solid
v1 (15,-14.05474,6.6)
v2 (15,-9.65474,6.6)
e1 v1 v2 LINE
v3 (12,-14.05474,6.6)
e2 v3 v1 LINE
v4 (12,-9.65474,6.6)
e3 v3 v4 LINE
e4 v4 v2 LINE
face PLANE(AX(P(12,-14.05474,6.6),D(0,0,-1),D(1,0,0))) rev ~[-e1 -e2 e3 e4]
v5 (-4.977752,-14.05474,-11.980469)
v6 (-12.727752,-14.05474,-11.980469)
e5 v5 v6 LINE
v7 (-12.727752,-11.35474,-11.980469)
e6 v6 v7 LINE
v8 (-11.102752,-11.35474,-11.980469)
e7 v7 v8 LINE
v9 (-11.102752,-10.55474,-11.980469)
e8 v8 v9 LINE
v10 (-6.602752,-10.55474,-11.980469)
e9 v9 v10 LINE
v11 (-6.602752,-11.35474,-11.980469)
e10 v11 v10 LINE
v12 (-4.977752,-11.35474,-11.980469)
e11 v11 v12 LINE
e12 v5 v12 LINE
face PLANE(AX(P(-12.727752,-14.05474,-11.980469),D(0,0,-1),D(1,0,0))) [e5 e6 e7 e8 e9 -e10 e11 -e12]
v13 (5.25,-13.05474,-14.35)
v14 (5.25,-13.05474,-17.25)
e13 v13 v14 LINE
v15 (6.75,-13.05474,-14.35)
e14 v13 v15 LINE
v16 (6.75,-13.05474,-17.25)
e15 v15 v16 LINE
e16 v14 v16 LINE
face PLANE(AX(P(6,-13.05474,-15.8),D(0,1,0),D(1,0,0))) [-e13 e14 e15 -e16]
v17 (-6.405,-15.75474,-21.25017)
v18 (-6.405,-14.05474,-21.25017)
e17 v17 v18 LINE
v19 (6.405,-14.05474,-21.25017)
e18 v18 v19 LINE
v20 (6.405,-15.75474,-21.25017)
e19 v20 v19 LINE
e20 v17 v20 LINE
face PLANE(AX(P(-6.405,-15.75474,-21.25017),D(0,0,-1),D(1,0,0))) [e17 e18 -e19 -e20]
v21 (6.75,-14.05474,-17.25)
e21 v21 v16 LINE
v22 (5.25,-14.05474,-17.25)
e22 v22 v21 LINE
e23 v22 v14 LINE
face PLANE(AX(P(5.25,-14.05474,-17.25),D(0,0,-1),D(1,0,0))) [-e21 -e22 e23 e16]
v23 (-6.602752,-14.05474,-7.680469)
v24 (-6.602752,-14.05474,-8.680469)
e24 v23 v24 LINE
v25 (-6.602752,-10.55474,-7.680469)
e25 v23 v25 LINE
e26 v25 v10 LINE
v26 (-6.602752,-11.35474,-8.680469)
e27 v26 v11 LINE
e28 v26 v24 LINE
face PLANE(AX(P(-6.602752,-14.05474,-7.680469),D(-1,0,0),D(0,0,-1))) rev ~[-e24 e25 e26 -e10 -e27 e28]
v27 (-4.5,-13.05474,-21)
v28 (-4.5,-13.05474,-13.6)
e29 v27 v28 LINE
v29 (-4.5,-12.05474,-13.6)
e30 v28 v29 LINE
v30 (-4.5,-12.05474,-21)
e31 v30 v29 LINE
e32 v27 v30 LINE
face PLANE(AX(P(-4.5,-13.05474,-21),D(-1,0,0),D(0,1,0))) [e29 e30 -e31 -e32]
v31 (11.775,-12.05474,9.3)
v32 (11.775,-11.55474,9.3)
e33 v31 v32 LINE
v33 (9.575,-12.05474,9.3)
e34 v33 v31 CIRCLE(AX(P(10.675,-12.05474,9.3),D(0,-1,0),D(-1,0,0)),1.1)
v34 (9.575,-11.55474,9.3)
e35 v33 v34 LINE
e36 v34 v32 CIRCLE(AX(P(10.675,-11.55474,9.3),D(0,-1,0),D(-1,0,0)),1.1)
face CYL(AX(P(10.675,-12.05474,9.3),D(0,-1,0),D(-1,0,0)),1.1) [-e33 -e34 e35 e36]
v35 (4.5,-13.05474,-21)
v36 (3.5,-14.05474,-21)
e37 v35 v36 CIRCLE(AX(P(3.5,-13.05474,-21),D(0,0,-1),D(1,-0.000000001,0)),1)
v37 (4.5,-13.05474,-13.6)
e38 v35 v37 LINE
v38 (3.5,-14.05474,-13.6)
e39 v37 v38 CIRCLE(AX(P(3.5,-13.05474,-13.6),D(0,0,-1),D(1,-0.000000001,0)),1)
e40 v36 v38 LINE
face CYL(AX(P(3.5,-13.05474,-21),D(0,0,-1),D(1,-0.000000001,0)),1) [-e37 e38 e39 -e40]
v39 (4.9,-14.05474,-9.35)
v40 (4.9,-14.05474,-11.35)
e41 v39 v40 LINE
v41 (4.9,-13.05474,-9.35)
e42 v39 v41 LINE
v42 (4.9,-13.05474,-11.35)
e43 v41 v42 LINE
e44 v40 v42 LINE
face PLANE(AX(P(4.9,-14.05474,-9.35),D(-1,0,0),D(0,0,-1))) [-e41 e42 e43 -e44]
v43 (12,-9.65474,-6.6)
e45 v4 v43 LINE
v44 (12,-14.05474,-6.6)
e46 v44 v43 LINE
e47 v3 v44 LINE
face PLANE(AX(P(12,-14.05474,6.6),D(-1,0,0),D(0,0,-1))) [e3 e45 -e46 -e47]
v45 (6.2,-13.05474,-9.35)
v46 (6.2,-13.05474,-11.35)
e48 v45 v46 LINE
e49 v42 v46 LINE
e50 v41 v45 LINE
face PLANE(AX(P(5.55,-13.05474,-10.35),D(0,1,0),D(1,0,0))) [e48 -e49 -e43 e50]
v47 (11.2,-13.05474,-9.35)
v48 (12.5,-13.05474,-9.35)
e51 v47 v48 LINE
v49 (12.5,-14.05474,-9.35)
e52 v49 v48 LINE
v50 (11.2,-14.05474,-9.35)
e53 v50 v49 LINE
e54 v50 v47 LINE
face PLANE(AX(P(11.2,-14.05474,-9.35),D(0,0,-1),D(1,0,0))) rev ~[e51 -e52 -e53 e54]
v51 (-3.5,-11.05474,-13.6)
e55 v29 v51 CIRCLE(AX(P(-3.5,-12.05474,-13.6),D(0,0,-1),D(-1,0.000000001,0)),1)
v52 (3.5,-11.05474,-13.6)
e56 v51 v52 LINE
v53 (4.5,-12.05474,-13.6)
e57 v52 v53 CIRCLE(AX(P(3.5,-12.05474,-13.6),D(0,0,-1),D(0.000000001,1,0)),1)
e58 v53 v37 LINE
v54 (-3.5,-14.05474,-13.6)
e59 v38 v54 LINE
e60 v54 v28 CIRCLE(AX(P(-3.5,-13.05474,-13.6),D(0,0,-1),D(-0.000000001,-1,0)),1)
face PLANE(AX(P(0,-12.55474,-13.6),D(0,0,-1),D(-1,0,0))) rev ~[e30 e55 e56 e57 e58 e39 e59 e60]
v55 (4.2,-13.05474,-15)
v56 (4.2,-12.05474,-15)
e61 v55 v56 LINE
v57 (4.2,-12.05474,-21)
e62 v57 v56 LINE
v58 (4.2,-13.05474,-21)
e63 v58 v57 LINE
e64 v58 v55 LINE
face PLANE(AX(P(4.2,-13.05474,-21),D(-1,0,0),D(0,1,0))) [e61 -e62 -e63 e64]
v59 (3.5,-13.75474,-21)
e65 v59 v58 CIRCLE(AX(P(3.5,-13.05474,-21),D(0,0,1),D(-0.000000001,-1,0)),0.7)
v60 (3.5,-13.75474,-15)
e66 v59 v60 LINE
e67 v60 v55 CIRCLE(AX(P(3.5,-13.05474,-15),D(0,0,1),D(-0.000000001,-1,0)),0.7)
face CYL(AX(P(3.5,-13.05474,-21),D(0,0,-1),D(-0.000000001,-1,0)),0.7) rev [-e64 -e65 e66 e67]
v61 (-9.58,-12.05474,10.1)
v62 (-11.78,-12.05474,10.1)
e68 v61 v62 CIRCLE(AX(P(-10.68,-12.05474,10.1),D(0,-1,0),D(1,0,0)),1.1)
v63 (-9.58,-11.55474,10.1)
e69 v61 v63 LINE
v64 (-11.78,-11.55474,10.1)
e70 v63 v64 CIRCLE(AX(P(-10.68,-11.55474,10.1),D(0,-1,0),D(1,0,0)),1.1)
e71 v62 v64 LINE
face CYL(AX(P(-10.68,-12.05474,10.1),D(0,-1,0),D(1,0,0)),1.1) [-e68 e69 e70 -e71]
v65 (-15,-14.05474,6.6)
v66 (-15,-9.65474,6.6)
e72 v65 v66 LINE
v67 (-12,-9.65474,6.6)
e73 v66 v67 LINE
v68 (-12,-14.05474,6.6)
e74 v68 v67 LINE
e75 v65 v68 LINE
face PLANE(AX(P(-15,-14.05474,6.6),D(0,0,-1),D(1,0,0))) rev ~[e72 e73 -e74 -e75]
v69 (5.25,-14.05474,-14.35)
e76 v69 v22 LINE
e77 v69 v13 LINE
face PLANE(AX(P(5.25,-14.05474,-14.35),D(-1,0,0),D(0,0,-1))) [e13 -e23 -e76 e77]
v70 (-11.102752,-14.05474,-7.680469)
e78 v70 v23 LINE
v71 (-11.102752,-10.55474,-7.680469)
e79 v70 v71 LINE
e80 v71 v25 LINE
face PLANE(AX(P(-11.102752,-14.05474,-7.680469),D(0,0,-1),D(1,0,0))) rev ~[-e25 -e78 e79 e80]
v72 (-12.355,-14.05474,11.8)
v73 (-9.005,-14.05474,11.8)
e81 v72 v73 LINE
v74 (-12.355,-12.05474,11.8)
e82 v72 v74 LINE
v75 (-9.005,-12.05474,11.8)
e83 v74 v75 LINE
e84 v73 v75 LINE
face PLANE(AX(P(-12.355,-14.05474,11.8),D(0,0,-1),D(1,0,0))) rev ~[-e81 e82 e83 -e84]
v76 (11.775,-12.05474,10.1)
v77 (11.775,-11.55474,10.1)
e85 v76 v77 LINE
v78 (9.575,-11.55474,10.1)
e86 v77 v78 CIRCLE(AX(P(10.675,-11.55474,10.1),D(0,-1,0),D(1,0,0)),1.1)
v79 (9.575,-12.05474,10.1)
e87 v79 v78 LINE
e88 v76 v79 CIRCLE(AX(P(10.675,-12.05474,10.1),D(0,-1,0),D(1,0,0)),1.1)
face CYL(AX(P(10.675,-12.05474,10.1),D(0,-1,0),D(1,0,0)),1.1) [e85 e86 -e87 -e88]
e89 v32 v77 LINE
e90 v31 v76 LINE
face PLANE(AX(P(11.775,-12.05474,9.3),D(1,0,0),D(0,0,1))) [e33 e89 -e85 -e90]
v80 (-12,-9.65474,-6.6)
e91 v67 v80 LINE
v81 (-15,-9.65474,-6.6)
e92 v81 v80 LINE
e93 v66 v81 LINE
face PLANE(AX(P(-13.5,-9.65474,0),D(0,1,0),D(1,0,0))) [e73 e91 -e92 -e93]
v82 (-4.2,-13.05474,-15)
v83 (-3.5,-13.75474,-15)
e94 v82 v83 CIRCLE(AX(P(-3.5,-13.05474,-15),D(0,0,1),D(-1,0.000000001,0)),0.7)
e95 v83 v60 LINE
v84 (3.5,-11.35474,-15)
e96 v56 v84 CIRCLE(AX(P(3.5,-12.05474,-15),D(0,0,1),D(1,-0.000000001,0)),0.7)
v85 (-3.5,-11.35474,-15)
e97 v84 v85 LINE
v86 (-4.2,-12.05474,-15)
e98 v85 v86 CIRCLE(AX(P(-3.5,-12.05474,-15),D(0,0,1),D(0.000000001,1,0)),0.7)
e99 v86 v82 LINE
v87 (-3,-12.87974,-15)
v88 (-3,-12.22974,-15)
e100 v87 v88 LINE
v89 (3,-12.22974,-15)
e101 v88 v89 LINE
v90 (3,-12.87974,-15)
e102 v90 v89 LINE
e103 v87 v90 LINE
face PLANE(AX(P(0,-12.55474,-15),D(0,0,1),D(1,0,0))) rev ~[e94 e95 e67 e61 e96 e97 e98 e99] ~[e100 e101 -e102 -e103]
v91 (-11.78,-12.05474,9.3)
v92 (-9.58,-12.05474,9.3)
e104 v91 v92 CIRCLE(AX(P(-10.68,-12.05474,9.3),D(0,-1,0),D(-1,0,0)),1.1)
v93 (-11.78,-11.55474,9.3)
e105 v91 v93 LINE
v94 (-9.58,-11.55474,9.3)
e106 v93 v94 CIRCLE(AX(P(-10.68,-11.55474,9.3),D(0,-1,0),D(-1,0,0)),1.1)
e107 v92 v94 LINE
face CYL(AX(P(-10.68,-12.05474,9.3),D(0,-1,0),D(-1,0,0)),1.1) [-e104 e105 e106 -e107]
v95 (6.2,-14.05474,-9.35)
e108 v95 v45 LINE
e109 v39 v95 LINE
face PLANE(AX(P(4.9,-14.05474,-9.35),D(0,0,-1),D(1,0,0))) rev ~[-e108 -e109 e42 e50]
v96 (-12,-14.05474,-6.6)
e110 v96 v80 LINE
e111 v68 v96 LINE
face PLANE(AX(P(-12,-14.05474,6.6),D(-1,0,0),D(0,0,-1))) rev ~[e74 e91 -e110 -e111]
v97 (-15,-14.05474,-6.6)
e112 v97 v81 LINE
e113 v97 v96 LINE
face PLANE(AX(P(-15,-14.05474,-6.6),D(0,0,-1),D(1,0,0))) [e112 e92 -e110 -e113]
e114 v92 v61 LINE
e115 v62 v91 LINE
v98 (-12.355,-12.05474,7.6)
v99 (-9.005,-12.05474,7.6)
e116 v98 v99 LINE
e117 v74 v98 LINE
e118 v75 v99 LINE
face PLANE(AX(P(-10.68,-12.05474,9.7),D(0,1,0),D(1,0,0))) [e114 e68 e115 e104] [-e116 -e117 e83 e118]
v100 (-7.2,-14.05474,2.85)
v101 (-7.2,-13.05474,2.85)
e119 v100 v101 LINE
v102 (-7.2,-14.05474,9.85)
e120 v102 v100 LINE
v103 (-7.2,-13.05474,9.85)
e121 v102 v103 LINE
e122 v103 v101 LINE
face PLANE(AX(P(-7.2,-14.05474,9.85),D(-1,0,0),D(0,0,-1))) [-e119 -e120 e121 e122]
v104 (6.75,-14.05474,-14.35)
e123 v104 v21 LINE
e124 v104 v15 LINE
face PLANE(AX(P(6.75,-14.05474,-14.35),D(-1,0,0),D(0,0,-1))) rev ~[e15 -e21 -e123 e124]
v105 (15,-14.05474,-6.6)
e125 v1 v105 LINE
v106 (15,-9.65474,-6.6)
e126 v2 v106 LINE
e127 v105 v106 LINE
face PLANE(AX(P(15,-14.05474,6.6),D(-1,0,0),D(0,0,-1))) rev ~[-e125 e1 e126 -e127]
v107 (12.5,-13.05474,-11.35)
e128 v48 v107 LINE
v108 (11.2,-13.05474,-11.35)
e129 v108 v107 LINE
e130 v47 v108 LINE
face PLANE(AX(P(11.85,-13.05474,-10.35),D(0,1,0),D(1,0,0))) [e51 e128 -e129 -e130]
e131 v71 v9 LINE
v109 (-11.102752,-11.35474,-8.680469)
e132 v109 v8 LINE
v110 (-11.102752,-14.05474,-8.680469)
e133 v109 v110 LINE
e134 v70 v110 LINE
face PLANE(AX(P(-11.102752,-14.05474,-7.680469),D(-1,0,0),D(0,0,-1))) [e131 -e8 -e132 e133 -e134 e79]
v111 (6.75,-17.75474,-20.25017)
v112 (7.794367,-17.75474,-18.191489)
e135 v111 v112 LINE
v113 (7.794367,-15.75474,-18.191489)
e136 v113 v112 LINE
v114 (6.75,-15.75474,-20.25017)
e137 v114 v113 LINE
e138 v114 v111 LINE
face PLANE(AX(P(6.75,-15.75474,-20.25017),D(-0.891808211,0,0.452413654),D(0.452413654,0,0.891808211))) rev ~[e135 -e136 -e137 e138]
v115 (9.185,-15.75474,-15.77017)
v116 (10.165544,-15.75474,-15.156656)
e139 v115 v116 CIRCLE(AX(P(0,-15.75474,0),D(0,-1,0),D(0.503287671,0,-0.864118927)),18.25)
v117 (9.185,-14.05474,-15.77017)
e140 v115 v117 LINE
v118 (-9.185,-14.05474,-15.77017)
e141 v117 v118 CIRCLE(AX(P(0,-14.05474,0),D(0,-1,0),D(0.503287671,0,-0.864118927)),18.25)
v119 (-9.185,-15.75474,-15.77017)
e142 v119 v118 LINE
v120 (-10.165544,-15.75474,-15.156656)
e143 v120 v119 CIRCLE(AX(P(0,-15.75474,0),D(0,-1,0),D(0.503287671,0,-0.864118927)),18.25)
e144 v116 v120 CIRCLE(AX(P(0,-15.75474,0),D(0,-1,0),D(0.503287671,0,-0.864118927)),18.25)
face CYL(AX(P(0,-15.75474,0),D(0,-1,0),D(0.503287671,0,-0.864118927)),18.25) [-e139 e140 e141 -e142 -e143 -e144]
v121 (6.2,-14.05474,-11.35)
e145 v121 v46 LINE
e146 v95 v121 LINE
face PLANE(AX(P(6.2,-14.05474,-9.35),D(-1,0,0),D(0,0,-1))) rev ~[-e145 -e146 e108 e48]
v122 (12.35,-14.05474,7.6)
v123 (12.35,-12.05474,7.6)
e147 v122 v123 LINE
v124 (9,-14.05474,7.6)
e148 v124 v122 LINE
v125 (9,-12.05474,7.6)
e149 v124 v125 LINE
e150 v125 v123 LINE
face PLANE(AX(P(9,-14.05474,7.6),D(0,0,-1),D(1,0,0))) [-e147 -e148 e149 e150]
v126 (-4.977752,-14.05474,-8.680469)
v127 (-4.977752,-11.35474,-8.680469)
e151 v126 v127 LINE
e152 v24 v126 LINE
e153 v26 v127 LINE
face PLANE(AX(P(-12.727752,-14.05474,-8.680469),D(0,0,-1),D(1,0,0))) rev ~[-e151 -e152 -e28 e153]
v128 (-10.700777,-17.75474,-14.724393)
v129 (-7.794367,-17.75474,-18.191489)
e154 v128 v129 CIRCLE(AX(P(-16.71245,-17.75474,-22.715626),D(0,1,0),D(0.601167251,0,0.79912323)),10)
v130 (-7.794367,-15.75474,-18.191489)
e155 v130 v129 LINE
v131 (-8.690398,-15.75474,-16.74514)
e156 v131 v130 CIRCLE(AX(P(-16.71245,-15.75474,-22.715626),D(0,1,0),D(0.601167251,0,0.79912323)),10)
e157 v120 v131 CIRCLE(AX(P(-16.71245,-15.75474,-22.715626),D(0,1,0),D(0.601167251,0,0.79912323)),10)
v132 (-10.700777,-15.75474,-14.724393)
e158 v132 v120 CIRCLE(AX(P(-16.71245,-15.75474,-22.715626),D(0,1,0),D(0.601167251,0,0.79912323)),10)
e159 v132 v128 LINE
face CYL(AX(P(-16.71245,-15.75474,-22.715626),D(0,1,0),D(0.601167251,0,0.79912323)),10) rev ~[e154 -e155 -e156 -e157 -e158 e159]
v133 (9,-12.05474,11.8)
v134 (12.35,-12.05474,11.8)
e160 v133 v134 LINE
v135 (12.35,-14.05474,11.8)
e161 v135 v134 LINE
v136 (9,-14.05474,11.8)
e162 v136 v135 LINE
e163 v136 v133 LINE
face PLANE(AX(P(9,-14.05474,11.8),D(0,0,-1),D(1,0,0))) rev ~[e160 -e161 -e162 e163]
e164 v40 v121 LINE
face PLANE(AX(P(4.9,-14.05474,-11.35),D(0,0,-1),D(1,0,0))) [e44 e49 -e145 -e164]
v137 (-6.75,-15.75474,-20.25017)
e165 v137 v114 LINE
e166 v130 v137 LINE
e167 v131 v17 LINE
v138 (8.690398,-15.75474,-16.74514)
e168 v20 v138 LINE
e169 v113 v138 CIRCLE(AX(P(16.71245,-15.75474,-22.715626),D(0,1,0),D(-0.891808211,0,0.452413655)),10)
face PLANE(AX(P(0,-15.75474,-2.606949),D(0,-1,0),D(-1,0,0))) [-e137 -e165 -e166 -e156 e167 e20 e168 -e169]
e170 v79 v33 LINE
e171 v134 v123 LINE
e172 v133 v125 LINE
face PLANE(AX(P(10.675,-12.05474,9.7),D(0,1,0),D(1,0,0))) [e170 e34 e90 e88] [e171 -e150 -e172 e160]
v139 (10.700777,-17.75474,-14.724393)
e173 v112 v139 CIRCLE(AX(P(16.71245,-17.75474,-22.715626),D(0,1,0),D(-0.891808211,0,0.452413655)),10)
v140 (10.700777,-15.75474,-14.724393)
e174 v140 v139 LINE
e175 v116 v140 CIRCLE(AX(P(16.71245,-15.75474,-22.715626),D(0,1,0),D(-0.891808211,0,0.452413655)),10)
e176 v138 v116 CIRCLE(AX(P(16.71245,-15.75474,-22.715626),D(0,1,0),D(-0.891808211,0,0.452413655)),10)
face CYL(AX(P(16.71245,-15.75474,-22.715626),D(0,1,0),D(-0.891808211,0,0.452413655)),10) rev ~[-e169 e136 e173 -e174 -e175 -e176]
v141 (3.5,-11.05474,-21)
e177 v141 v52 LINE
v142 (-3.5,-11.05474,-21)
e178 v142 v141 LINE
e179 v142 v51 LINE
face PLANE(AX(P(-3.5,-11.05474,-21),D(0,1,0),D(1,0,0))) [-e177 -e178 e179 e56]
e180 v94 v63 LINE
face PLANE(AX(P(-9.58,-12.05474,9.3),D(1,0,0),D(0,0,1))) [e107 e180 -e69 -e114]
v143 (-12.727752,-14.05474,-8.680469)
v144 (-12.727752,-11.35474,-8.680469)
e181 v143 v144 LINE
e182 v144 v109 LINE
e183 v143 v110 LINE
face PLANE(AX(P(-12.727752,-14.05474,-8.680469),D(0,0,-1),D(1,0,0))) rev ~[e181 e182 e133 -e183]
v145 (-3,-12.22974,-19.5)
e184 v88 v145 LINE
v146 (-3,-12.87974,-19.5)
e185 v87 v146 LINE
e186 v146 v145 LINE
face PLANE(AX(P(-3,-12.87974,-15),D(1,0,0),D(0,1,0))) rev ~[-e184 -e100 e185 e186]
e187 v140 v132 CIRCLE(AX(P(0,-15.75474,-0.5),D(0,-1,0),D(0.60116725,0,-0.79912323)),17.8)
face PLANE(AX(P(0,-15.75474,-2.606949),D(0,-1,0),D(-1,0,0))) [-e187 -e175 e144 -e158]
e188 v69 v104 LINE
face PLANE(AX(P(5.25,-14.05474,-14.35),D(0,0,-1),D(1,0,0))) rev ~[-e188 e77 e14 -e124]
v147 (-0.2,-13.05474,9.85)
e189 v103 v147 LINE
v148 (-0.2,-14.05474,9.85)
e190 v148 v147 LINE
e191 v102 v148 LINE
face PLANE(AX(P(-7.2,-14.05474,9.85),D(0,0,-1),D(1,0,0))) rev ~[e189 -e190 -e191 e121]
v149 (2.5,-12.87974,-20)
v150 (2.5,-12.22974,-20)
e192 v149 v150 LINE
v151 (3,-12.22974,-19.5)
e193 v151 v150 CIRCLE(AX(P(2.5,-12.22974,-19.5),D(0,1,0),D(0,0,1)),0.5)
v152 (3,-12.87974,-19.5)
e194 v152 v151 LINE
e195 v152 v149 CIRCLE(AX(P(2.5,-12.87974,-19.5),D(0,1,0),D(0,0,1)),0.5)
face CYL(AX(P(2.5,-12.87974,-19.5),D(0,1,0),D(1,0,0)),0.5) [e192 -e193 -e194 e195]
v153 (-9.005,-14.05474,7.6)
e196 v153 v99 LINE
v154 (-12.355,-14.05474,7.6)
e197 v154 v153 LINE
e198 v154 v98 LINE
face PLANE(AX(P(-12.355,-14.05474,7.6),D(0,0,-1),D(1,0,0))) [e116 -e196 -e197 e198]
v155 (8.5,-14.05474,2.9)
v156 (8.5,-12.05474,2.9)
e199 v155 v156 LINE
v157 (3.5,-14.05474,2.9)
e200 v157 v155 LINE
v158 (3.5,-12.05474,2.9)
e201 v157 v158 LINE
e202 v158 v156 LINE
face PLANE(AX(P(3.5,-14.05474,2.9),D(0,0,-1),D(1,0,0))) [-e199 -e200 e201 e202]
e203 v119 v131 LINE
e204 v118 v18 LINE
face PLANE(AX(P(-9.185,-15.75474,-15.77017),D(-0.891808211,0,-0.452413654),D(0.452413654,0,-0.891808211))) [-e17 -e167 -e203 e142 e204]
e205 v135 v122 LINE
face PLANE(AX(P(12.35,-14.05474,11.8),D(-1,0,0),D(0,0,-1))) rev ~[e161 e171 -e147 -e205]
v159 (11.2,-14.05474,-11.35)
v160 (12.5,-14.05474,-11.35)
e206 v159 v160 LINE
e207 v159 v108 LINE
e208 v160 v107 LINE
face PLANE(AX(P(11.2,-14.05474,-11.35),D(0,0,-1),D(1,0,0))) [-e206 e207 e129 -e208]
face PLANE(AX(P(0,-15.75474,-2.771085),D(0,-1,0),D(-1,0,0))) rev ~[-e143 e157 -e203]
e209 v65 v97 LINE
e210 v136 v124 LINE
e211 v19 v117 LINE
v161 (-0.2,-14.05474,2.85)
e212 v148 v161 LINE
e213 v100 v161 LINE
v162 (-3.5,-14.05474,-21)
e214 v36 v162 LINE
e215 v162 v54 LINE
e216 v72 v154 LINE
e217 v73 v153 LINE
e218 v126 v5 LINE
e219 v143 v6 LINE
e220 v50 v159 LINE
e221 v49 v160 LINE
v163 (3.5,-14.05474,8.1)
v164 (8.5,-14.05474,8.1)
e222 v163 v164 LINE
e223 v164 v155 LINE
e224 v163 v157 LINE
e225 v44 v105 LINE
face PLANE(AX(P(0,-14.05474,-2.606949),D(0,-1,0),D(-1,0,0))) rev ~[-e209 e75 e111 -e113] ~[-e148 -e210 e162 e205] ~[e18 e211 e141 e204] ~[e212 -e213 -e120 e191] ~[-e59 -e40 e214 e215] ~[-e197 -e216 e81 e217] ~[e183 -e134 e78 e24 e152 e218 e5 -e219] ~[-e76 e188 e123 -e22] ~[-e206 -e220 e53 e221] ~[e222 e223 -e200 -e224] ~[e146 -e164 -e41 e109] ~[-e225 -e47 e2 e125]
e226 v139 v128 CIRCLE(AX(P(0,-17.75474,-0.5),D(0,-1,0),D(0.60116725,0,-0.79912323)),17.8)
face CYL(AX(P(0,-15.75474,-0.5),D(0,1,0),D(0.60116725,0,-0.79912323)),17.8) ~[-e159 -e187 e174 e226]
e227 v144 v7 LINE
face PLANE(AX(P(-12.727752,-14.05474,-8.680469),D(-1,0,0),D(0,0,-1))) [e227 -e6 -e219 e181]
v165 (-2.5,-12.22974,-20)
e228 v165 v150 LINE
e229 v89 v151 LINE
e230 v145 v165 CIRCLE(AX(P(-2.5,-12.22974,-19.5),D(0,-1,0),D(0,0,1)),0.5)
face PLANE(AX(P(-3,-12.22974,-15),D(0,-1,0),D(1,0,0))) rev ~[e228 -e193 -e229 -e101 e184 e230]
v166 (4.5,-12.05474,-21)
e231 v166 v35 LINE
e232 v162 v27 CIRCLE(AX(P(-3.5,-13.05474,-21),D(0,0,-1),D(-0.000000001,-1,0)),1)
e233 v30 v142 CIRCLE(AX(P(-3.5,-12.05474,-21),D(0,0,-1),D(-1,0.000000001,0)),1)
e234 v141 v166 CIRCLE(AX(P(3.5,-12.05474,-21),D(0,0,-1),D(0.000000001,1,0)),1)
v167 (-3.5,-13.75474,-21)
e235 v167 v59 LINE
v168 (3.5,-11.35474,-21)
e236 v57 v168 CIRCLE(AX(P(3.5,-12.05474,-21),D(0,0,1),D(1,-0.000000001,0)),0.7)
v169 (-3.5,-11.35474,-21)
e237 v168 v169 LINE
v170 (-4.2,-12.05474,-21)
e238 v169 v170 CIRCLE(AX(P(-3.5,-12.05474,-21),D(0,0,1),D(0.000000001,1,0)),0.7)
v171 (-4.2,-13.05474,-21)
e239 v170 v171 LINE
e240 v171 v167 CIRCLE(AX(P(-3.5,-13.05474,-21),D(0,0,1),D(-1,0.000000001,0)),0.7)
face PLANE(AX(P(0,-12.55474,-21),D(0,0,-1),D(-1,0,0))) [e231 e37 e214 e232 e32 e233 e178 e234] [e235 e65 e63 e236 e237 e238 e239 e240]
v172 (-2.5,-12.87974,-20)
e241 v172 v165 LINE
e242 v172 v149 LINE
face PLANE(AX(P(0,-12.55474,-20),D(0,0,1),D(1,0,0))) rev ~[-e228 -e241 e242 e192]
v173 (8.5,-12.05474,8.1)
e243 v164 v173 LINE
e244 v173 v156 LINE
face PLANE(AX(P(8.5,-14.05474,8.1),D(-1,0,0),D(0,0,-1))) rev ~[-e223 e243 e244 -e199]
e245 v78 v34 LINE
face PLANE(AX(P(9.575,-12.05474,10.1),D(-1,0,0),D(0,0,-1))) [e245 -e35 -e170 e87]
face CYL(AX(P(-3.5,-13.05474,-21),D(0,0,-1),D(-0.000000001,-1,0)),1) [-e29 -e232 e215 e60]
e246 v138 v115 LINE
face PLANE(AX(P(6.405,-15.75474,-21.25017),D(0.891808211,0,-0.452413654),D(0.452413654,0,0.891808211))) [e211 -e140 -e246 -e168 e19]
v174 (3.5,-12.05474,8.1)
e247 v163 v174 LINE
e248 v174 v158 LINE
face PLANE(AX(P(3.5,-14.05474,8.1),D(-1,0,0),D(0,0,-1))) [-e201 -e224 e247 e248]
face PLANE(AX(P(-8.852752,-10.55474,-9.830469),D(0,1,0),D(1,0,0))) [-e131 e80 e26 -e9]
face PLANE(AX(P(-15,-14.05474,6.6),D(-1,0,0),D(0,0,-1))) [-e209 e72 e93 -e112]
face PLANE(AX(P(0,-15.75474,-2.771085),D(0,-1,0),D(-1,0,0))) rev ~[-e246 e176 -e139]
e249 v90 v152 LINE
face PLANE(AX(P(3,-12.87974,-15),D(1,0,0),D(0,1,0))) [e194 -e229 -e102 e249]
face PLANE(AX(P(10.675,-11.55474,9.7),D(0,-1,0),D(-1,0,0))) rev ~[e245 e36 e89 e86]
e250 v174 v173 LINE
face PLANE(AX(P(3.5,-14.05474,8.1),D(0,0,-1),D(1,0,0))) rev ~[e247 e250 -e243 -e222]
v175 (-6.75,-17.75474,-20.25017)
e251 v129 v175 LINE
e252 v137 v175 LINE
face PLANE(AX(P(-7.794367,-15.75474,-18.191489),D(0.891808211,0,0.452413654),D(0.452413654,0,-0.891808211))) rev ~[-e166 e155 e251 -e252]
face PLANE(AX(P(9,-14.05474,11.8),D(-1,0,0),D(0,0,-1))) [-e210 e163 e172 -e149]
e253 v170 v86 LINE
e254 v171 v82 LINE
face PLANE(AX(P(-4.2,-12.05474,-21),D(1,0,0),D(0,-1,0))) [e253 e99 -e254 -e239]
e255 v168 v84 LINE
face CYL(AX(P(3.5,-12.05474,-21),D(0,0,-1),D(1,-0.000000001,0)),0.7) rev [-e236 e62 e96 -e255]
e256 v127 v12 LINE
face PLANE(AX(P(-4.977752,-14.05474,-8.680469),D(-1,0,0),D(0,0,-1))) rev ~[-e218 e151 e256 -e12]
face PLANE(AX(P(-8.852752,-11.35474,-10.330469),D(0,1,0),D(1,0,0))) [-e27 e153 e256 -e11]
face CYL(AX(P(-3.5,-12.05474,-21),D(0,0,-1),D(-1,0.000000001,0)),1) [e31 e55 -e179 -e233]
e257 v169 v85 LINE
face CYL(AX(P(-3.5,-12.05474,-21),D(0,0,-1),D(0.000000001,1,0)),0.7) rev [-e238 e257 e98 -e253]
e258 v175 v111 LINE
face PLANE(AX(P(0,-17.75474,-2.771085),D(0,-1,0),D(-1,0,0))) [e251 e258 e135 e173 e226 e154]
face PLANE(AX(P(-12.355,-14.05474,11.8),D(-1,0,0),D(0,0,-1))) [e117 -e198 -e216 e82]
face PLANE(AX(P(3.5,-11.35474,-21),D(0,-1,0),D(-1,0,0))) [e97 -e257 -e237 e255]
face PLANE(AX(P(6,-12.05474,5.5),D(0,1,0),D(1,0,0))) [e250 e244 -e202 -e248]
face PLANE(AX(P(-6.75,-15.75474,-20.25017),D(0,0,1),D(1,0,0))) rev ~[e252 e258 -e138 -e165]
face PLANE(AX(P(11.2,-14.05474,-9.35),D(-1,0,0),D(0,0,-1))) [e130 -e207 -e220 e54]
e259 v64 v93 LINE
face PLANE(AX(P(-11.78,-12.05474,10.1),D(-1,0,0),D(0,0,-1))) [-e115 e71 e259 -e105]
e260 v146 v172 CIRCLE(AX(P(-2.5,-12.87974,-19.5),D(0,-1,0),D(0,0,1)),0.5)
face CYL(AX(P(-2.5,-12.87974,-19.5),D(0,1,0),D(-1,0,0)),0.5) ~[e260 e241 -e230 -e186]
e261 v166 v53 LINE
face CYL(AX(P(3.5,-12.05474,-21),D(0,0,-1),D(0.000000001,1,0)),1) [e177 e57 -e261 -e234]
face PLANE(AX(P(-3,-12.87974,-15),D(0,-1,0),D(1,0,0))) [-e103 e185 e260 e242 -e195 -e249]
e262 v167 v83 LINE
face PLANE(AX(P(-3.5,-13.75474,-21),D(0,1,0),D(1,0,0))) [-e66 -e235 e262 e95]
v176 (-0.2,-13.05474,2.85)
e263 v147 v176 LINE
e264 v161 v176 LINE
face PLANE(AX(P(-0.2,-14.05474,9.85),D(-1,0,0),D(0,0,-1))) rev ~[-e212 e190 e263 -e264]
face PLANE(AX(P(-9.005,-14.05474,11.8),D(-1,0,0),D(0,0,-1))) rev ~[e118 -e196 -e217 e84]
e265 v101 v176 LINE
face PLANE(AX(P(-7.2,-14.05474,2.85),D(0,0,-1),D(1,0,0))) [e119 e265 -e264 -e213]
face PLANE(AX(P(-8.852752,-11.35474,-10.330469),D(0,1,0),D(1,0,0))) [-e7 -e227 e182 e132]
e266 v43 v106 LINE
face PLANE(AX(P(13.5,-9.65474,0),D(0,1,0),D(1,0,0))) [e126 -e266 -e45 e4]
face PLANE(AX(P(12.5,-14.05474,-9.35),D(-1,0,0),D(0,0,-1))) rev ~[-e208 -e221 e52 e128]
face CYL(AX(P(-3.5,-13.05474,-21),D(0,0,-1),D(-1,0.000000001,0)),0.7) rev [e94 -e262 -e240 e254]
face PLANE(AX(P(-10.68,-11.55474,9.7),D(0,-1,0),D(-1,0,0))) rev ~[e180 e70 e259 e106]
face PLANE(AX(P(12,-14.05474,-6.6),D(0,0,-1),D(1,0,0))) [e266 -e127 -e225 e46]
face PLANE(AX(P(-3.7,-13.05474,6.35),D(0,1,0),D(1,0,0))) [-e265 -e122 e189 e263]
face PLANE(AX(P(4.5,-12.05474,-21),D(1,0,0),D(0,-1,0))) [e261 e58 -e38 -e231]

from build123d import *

# Parameters (mm, degrees)
BOSS_EXTRUDE1_DEPTH  = 1.7
BOSS_EXTRUDE2_DEPTH  = 2
BOSS_EXTRUDE3_START  = 1.7
SKETCH3_W            = 3
SKETCH3_H            = 13.2
BOSS_EXTRUDE3_DEPTH  = 4.4
BOSS_EXTRUDE4_START  = -21
BOSS_EXTRUDE4_DEPTH  = 7.4
CUT_EXTRUDE1_START   = -21
CUT_EXTRUDE1_DEPTH   = 6
BOSS_EXTRUDE5_START  = -15
SKETCH8_W            = 6
SKETCH8_H            = 0.65
BOSS_EXTRUDE5_DEPTH  = 5
FILLET1_R            = 0.5
BOSS_EXTRUDE6_START  = 1.7
SKETCH9_W            = 5
SKETCH9_H            = 5.2
BOSS_EXTRUDE6_DEPTH  = 2
BOSS_EXTRUDE7_START  = 1.7
SKETCH10_W           = 3.35
SKETCH10_H           = 4.2
BOSS_EXTRUDE7_DEPTH  = 2
BOSS_EXTRUDE8_START  = 3.7
BOSS_EXTRUDE8_DEPTH  = 0.5
BOSS_EXTRUDE9_START  = 1.7
SKETCH12_W           = 4.5
SKETCH12_H           = 4.3
BOSS_EXTRUDE9_DEPTH  = 3.5
BOSS_EXTRUDE10_START = 1.7
SKETCH13_W           = 7.75
SKETCH13_H           = 3.3
BOSS_EXTRUDE10_DEPTH = 2.7
BOSS_EXTRUDE11_START = 1.7
SKETCH14_W           = 7
SKETCH14_H           = 7
BOSS_EXTRUDE11_DEPTH = 1
BOSS_EXTRUDE12_START = 1.7
SKETCH15_W           = 1.3
SKETCH15_H           = 2
BOSS_EXTRUDE12_DEPTH = 1
BOSS_EXTRUDE13_START = 1.7
SKETCH16_W           = 1.5
SKETCH16_H           = 2.9
BOSS_EXTRUDE13_DEPTH = 1


with BuildPart() as part:
    # Sketch1 → Boss-Extrude1 (new body)
    with BuildSketch(Plane(origin=(0, 0, 0), x_dir=(1, 0, 0), z_dir=(0, 1, 0))):
        with BuildLine():
            Line((-6.405, 21.250170418), (6.405, 21.250170418))
            Line((6.405, 21.250170418), (9.185, 15.770170418))
            ThreePointArc((9.185, 15.770170418), (0, -18.25), (-9.185, 15.770170418))
            Line((-9.185, 15.770170418), (-6.405, 21.250170418))
        make_face()
    extrude(amount=BOSS_EXTRUDE1_DEPTH)

    # Sketch2 → Boss-Extrude2 (add)
    with BuildSketch(Plane(origin=(0, 0, 0), x_dir=(1, 0, 0), z_dir=(0, 1, 0))):
        with BuildLine():
            Line((-6.75, 20.250170418), (6.75, 20.250170418))
            Line((6.75, 20.250170418), (7.794367451, 18.191489254))
            ThreePointArc((7.794367451, 18.191489254), (9.048926778, 16.291420125), (10.700777057, 14.724393497))
            ThreePointArc((10.700777057, 14.724393497), (0, -17.3), (-10.700777057, 14.724393497))
            ThreePointArc((-10.700777057, 14.724393497), (-9.048926778, 16.291420125), (-7.794367451, 18.191489254))
            Line((-7.794367451, 18.191489254), (-6.75, 20.250170418))
        make_face()
    extrude(amount=-BOSS_EXTRUDE2_DEPTH)

    # Sketch3 → Boss-Extrude3 (add)
    with BuildSketch(Plane(origin=(0, 0, 0), x_dir=(1, 0, 0), z_dir=(0, 1, 0)).offset(BOSS_EXTRUDE3_START)):
        with Locations((-13.5, 0)):
            Rectangle(SKETCH3_W, SKETCH3_H)
        with Locations((13.5, 0)):
            Rectangle(SKETCH3_W, SKETCH3_H)
    extrude(amount=BOSS_EXTRUDE3_DEPTH)

    # Sketch4 → Boss-Extrude4 (add)
    with BuildSketch(Plane.XY.offset(BOSS_EXTRUDE4_START)):
        with BuildLine():
            Line((3.5, 1.7), (-3.5, 1.7))
            ThreePointArc((-3.5, 1.7), (-4.207106781, 1.992893219), (-4.5, 2.7))
            Line((-4.5, 2.7), (-4.5, 3.7))
            ThreePointArc((-4.5, 3.7), (-4.207106781, 4.407106781), (-3.5, 4.7))
            Line((-3.5, 4.7), (3.5, 4.7))
            ThreePointArc((3.5, 4.7), (4.207106781, 4.407106781), (4.5, 3.7))
            Line((4.5, 3.7), (4.5, 2.7))
            ThreePointArc((4.5, 2.7), (4.207106781, 1.992893219), (3.5, 1.7))
        make_face()
    extrude(amount=BOSS_EXTRUDE4_DEPTH)

    # Sketch7 → Cut-Extrude1 (cut)
    with BuildSketch(Plane.XY.offset(CUT_EXTRUDE1_START)):
        with BuildLine():
            Line((4.2, 2.7), (4.2, 3.7))
            ThreePointArc((4.2, 3.7), (3.994974747, 4.194974747), (3.5, 4.4))
            Line((3.5, 4.4), (-3.5, 4.4))
            ThreePointArc((-3.5, 4.4), (-3.994974747, 4.194974747), (-4.2, 3.7))
            Line((-4.2, 3.7), (-4.2, 2.7))
            ThreePointArc((-4.2, 2.7), (-3.994974747, 2.205025253), (-3.5, 2))
            Line((-3.5, 2), (3.5, 2))
            ThreePointArc((3.5, 2), (3.994974747, 2.205025253), (4.2, 2.7))
        make_face()
    extrude(amount=CUT_EXTRUDE1_DEPTH, mode=Mode.SUBTRACT)

    # Sketch8 → Boss-Extrude5 (add)
    with BuildSketch(Plane.XY.offset(BOSS_EXTRUDE5_START)):
        with Locations((0, 3.2)):
            Rectangle(SKETCH8_W, SKETCH8_H)
    extrude(amount=-BOSS_EXTRUDE5_DEPTH)

    # Fillet1
    fillet1_edges = [part.edges().sort_by_distance(p)[0] for p in [
        (-3, 3.2, -20),
        (3, 3.2, -20),
    ]]
    fillet(fillet1_edges, radius=FILLET1_R)

    # Sketch9 → Boss-Extrude6 (add)
    with BuildSketch(Plane(origin=(0, 0, 0), x_dir=(1, 0, 0), z_dir=(0, 1, 0)).offset(BOSS_EXTRUDE6_START)):
        with Locations((6, -5.5)):
            Rectangle(SKETCH9_W, SKETCH9_H)
    extrude(amount=BOSS_EXTRUDE6_DEPTH)

    # Sketch10 → Boss-Extrude7 (add)
    with BuildSketch(Plane(origin=(0, 0, 0), x_dir=(1, 0, 0), z_dir=(0, 1, 0)).offset(BOSS_EXTRUDE7_START)):
        with Locations((10.675, -9.7)):
            Rectangle(SKETCH10_W, SKETCH10_H)
        with Locations((-10.68, -9.7)):
            Rectangle(SKETCH10_W, SKETCH10_H)
    extrude(amount=BOSS_EXTRUDE7_DEPTH)

    # Sketch11 → Boss-Extrude8 (add)
    with BuildSketch(Plane(origin=(0, 0, 0), x_dir=(1, 0, 0), z_dir=(0, 1, 0)).offset(BOSS_EXTRUDE8_START)):
        with BuildLine():
            Line((-11.78, -10.1), (-11.78, -9.3))
            ThreePointArc((-11.78, -9.3), (-10.68, -8.2), (-9.58, -9.3))
            Line((-9.58, -9.3), (-9.58, -10.1))
            ThreePointArc((-9.58, -10.1), (-10.68, -11.2), (-11.78, -10.1))
        make_face()
        with BuildLine():
            Line((9.575, -10.1), (9.575, -9.3))
            ThreePointArc((9.575, -9.3), (10.675, -8.2), (11.775, -9.3))
            Line((11.775, -9.3), (11.775, -10.1))
            ThreePointArc((11.775, -10.1), (10.675, -11.2), (9.575, -10.1))
        make_face()
    extrude(amount=BOSS_EXTRUDE8_DEPTH)

    # Sketch12 → Boss-Extrude9 (add)
    with BuildSketch(Plane(origin=(0, 0, 0), x_dir=(1, 0, 0), z_dir=(0, 1, 0)).offset(BOSS_EXTRUDE9_START)):
        with Locations((-8.852751595, 9.830469474)):
            Rectangle(SKETCH12_W, SKETCH12_H)
    extrude(amount=BOSS_EXTRUDE9_DEPTH)

    # Sketch13 → Boss-Extrude10 (add)
    with BuildSketch(Plane(origin=(0, 0, 0), x_dir=(1, 0, 0), z_dir=(0, 1, 0)).offset(BOSS_EXTRUDE10_START)):
        with Locations((-8.852751595, 10.330469474)):
            Rectangle(SKETCH13_W, SKETCH13_H)
    extrude(amount=BOSS_EXTRUDE10_DEPTH)

    # Sketch14 → Boss-Extrude11 (add)
    with BuildSketch(Plane(origin=(0, 0, 0), x_dir=(1, 0, 0), z_dir=(0, 1, 0)).offset(BOSS_EXTRUDE11_START)):
        with Locations((-3.7, -6.35)):
            Rectangle(SKETCH14_W, SKETCH14_H)
    extrude(amount=BOSS_EXTRUDE11_DEPTH)

    # Sketch15 → Boss-Extrude12 (add)
    with BuildSketch(Plane(origin=(0, 0, 0), x_dir=(1, 0, 0), z_dir=(0, 1, 0)).offset(BOSS_EXTRUDE12_START)):
        with Locations((11.85, 10.35)):
            Rectangle(SKETCH15_W, SKETCH15_H)
        with Locations((5.55, 10.35)):
            Rectangle(SKETCH15_W, SKETCH15_H)
    extrude(amount=BOSS_EXTRUDE12_DEPTH)

    # Sketch16 → Boss-Extrude13 (add)
    with BuildSketch(Plane(origin=(0, 0, 0), x_dir=(1, 0, 0), z_dir=(0, 1, 0)).offset(BOSS_EXTRUDE13_START)):
        with Locations((6, 15.8)):
            Rectangle(SKETCH16_W, SKETCH16_H)
    extrude(amount=BOSS_EXTRUDE13_DEPTH)


with BuildPart() as part_1:
    # Body-Move/Copy2: moved
    add(part.part.moved(Location((0, -15.754739533, 0))))


solid = part_1.part
